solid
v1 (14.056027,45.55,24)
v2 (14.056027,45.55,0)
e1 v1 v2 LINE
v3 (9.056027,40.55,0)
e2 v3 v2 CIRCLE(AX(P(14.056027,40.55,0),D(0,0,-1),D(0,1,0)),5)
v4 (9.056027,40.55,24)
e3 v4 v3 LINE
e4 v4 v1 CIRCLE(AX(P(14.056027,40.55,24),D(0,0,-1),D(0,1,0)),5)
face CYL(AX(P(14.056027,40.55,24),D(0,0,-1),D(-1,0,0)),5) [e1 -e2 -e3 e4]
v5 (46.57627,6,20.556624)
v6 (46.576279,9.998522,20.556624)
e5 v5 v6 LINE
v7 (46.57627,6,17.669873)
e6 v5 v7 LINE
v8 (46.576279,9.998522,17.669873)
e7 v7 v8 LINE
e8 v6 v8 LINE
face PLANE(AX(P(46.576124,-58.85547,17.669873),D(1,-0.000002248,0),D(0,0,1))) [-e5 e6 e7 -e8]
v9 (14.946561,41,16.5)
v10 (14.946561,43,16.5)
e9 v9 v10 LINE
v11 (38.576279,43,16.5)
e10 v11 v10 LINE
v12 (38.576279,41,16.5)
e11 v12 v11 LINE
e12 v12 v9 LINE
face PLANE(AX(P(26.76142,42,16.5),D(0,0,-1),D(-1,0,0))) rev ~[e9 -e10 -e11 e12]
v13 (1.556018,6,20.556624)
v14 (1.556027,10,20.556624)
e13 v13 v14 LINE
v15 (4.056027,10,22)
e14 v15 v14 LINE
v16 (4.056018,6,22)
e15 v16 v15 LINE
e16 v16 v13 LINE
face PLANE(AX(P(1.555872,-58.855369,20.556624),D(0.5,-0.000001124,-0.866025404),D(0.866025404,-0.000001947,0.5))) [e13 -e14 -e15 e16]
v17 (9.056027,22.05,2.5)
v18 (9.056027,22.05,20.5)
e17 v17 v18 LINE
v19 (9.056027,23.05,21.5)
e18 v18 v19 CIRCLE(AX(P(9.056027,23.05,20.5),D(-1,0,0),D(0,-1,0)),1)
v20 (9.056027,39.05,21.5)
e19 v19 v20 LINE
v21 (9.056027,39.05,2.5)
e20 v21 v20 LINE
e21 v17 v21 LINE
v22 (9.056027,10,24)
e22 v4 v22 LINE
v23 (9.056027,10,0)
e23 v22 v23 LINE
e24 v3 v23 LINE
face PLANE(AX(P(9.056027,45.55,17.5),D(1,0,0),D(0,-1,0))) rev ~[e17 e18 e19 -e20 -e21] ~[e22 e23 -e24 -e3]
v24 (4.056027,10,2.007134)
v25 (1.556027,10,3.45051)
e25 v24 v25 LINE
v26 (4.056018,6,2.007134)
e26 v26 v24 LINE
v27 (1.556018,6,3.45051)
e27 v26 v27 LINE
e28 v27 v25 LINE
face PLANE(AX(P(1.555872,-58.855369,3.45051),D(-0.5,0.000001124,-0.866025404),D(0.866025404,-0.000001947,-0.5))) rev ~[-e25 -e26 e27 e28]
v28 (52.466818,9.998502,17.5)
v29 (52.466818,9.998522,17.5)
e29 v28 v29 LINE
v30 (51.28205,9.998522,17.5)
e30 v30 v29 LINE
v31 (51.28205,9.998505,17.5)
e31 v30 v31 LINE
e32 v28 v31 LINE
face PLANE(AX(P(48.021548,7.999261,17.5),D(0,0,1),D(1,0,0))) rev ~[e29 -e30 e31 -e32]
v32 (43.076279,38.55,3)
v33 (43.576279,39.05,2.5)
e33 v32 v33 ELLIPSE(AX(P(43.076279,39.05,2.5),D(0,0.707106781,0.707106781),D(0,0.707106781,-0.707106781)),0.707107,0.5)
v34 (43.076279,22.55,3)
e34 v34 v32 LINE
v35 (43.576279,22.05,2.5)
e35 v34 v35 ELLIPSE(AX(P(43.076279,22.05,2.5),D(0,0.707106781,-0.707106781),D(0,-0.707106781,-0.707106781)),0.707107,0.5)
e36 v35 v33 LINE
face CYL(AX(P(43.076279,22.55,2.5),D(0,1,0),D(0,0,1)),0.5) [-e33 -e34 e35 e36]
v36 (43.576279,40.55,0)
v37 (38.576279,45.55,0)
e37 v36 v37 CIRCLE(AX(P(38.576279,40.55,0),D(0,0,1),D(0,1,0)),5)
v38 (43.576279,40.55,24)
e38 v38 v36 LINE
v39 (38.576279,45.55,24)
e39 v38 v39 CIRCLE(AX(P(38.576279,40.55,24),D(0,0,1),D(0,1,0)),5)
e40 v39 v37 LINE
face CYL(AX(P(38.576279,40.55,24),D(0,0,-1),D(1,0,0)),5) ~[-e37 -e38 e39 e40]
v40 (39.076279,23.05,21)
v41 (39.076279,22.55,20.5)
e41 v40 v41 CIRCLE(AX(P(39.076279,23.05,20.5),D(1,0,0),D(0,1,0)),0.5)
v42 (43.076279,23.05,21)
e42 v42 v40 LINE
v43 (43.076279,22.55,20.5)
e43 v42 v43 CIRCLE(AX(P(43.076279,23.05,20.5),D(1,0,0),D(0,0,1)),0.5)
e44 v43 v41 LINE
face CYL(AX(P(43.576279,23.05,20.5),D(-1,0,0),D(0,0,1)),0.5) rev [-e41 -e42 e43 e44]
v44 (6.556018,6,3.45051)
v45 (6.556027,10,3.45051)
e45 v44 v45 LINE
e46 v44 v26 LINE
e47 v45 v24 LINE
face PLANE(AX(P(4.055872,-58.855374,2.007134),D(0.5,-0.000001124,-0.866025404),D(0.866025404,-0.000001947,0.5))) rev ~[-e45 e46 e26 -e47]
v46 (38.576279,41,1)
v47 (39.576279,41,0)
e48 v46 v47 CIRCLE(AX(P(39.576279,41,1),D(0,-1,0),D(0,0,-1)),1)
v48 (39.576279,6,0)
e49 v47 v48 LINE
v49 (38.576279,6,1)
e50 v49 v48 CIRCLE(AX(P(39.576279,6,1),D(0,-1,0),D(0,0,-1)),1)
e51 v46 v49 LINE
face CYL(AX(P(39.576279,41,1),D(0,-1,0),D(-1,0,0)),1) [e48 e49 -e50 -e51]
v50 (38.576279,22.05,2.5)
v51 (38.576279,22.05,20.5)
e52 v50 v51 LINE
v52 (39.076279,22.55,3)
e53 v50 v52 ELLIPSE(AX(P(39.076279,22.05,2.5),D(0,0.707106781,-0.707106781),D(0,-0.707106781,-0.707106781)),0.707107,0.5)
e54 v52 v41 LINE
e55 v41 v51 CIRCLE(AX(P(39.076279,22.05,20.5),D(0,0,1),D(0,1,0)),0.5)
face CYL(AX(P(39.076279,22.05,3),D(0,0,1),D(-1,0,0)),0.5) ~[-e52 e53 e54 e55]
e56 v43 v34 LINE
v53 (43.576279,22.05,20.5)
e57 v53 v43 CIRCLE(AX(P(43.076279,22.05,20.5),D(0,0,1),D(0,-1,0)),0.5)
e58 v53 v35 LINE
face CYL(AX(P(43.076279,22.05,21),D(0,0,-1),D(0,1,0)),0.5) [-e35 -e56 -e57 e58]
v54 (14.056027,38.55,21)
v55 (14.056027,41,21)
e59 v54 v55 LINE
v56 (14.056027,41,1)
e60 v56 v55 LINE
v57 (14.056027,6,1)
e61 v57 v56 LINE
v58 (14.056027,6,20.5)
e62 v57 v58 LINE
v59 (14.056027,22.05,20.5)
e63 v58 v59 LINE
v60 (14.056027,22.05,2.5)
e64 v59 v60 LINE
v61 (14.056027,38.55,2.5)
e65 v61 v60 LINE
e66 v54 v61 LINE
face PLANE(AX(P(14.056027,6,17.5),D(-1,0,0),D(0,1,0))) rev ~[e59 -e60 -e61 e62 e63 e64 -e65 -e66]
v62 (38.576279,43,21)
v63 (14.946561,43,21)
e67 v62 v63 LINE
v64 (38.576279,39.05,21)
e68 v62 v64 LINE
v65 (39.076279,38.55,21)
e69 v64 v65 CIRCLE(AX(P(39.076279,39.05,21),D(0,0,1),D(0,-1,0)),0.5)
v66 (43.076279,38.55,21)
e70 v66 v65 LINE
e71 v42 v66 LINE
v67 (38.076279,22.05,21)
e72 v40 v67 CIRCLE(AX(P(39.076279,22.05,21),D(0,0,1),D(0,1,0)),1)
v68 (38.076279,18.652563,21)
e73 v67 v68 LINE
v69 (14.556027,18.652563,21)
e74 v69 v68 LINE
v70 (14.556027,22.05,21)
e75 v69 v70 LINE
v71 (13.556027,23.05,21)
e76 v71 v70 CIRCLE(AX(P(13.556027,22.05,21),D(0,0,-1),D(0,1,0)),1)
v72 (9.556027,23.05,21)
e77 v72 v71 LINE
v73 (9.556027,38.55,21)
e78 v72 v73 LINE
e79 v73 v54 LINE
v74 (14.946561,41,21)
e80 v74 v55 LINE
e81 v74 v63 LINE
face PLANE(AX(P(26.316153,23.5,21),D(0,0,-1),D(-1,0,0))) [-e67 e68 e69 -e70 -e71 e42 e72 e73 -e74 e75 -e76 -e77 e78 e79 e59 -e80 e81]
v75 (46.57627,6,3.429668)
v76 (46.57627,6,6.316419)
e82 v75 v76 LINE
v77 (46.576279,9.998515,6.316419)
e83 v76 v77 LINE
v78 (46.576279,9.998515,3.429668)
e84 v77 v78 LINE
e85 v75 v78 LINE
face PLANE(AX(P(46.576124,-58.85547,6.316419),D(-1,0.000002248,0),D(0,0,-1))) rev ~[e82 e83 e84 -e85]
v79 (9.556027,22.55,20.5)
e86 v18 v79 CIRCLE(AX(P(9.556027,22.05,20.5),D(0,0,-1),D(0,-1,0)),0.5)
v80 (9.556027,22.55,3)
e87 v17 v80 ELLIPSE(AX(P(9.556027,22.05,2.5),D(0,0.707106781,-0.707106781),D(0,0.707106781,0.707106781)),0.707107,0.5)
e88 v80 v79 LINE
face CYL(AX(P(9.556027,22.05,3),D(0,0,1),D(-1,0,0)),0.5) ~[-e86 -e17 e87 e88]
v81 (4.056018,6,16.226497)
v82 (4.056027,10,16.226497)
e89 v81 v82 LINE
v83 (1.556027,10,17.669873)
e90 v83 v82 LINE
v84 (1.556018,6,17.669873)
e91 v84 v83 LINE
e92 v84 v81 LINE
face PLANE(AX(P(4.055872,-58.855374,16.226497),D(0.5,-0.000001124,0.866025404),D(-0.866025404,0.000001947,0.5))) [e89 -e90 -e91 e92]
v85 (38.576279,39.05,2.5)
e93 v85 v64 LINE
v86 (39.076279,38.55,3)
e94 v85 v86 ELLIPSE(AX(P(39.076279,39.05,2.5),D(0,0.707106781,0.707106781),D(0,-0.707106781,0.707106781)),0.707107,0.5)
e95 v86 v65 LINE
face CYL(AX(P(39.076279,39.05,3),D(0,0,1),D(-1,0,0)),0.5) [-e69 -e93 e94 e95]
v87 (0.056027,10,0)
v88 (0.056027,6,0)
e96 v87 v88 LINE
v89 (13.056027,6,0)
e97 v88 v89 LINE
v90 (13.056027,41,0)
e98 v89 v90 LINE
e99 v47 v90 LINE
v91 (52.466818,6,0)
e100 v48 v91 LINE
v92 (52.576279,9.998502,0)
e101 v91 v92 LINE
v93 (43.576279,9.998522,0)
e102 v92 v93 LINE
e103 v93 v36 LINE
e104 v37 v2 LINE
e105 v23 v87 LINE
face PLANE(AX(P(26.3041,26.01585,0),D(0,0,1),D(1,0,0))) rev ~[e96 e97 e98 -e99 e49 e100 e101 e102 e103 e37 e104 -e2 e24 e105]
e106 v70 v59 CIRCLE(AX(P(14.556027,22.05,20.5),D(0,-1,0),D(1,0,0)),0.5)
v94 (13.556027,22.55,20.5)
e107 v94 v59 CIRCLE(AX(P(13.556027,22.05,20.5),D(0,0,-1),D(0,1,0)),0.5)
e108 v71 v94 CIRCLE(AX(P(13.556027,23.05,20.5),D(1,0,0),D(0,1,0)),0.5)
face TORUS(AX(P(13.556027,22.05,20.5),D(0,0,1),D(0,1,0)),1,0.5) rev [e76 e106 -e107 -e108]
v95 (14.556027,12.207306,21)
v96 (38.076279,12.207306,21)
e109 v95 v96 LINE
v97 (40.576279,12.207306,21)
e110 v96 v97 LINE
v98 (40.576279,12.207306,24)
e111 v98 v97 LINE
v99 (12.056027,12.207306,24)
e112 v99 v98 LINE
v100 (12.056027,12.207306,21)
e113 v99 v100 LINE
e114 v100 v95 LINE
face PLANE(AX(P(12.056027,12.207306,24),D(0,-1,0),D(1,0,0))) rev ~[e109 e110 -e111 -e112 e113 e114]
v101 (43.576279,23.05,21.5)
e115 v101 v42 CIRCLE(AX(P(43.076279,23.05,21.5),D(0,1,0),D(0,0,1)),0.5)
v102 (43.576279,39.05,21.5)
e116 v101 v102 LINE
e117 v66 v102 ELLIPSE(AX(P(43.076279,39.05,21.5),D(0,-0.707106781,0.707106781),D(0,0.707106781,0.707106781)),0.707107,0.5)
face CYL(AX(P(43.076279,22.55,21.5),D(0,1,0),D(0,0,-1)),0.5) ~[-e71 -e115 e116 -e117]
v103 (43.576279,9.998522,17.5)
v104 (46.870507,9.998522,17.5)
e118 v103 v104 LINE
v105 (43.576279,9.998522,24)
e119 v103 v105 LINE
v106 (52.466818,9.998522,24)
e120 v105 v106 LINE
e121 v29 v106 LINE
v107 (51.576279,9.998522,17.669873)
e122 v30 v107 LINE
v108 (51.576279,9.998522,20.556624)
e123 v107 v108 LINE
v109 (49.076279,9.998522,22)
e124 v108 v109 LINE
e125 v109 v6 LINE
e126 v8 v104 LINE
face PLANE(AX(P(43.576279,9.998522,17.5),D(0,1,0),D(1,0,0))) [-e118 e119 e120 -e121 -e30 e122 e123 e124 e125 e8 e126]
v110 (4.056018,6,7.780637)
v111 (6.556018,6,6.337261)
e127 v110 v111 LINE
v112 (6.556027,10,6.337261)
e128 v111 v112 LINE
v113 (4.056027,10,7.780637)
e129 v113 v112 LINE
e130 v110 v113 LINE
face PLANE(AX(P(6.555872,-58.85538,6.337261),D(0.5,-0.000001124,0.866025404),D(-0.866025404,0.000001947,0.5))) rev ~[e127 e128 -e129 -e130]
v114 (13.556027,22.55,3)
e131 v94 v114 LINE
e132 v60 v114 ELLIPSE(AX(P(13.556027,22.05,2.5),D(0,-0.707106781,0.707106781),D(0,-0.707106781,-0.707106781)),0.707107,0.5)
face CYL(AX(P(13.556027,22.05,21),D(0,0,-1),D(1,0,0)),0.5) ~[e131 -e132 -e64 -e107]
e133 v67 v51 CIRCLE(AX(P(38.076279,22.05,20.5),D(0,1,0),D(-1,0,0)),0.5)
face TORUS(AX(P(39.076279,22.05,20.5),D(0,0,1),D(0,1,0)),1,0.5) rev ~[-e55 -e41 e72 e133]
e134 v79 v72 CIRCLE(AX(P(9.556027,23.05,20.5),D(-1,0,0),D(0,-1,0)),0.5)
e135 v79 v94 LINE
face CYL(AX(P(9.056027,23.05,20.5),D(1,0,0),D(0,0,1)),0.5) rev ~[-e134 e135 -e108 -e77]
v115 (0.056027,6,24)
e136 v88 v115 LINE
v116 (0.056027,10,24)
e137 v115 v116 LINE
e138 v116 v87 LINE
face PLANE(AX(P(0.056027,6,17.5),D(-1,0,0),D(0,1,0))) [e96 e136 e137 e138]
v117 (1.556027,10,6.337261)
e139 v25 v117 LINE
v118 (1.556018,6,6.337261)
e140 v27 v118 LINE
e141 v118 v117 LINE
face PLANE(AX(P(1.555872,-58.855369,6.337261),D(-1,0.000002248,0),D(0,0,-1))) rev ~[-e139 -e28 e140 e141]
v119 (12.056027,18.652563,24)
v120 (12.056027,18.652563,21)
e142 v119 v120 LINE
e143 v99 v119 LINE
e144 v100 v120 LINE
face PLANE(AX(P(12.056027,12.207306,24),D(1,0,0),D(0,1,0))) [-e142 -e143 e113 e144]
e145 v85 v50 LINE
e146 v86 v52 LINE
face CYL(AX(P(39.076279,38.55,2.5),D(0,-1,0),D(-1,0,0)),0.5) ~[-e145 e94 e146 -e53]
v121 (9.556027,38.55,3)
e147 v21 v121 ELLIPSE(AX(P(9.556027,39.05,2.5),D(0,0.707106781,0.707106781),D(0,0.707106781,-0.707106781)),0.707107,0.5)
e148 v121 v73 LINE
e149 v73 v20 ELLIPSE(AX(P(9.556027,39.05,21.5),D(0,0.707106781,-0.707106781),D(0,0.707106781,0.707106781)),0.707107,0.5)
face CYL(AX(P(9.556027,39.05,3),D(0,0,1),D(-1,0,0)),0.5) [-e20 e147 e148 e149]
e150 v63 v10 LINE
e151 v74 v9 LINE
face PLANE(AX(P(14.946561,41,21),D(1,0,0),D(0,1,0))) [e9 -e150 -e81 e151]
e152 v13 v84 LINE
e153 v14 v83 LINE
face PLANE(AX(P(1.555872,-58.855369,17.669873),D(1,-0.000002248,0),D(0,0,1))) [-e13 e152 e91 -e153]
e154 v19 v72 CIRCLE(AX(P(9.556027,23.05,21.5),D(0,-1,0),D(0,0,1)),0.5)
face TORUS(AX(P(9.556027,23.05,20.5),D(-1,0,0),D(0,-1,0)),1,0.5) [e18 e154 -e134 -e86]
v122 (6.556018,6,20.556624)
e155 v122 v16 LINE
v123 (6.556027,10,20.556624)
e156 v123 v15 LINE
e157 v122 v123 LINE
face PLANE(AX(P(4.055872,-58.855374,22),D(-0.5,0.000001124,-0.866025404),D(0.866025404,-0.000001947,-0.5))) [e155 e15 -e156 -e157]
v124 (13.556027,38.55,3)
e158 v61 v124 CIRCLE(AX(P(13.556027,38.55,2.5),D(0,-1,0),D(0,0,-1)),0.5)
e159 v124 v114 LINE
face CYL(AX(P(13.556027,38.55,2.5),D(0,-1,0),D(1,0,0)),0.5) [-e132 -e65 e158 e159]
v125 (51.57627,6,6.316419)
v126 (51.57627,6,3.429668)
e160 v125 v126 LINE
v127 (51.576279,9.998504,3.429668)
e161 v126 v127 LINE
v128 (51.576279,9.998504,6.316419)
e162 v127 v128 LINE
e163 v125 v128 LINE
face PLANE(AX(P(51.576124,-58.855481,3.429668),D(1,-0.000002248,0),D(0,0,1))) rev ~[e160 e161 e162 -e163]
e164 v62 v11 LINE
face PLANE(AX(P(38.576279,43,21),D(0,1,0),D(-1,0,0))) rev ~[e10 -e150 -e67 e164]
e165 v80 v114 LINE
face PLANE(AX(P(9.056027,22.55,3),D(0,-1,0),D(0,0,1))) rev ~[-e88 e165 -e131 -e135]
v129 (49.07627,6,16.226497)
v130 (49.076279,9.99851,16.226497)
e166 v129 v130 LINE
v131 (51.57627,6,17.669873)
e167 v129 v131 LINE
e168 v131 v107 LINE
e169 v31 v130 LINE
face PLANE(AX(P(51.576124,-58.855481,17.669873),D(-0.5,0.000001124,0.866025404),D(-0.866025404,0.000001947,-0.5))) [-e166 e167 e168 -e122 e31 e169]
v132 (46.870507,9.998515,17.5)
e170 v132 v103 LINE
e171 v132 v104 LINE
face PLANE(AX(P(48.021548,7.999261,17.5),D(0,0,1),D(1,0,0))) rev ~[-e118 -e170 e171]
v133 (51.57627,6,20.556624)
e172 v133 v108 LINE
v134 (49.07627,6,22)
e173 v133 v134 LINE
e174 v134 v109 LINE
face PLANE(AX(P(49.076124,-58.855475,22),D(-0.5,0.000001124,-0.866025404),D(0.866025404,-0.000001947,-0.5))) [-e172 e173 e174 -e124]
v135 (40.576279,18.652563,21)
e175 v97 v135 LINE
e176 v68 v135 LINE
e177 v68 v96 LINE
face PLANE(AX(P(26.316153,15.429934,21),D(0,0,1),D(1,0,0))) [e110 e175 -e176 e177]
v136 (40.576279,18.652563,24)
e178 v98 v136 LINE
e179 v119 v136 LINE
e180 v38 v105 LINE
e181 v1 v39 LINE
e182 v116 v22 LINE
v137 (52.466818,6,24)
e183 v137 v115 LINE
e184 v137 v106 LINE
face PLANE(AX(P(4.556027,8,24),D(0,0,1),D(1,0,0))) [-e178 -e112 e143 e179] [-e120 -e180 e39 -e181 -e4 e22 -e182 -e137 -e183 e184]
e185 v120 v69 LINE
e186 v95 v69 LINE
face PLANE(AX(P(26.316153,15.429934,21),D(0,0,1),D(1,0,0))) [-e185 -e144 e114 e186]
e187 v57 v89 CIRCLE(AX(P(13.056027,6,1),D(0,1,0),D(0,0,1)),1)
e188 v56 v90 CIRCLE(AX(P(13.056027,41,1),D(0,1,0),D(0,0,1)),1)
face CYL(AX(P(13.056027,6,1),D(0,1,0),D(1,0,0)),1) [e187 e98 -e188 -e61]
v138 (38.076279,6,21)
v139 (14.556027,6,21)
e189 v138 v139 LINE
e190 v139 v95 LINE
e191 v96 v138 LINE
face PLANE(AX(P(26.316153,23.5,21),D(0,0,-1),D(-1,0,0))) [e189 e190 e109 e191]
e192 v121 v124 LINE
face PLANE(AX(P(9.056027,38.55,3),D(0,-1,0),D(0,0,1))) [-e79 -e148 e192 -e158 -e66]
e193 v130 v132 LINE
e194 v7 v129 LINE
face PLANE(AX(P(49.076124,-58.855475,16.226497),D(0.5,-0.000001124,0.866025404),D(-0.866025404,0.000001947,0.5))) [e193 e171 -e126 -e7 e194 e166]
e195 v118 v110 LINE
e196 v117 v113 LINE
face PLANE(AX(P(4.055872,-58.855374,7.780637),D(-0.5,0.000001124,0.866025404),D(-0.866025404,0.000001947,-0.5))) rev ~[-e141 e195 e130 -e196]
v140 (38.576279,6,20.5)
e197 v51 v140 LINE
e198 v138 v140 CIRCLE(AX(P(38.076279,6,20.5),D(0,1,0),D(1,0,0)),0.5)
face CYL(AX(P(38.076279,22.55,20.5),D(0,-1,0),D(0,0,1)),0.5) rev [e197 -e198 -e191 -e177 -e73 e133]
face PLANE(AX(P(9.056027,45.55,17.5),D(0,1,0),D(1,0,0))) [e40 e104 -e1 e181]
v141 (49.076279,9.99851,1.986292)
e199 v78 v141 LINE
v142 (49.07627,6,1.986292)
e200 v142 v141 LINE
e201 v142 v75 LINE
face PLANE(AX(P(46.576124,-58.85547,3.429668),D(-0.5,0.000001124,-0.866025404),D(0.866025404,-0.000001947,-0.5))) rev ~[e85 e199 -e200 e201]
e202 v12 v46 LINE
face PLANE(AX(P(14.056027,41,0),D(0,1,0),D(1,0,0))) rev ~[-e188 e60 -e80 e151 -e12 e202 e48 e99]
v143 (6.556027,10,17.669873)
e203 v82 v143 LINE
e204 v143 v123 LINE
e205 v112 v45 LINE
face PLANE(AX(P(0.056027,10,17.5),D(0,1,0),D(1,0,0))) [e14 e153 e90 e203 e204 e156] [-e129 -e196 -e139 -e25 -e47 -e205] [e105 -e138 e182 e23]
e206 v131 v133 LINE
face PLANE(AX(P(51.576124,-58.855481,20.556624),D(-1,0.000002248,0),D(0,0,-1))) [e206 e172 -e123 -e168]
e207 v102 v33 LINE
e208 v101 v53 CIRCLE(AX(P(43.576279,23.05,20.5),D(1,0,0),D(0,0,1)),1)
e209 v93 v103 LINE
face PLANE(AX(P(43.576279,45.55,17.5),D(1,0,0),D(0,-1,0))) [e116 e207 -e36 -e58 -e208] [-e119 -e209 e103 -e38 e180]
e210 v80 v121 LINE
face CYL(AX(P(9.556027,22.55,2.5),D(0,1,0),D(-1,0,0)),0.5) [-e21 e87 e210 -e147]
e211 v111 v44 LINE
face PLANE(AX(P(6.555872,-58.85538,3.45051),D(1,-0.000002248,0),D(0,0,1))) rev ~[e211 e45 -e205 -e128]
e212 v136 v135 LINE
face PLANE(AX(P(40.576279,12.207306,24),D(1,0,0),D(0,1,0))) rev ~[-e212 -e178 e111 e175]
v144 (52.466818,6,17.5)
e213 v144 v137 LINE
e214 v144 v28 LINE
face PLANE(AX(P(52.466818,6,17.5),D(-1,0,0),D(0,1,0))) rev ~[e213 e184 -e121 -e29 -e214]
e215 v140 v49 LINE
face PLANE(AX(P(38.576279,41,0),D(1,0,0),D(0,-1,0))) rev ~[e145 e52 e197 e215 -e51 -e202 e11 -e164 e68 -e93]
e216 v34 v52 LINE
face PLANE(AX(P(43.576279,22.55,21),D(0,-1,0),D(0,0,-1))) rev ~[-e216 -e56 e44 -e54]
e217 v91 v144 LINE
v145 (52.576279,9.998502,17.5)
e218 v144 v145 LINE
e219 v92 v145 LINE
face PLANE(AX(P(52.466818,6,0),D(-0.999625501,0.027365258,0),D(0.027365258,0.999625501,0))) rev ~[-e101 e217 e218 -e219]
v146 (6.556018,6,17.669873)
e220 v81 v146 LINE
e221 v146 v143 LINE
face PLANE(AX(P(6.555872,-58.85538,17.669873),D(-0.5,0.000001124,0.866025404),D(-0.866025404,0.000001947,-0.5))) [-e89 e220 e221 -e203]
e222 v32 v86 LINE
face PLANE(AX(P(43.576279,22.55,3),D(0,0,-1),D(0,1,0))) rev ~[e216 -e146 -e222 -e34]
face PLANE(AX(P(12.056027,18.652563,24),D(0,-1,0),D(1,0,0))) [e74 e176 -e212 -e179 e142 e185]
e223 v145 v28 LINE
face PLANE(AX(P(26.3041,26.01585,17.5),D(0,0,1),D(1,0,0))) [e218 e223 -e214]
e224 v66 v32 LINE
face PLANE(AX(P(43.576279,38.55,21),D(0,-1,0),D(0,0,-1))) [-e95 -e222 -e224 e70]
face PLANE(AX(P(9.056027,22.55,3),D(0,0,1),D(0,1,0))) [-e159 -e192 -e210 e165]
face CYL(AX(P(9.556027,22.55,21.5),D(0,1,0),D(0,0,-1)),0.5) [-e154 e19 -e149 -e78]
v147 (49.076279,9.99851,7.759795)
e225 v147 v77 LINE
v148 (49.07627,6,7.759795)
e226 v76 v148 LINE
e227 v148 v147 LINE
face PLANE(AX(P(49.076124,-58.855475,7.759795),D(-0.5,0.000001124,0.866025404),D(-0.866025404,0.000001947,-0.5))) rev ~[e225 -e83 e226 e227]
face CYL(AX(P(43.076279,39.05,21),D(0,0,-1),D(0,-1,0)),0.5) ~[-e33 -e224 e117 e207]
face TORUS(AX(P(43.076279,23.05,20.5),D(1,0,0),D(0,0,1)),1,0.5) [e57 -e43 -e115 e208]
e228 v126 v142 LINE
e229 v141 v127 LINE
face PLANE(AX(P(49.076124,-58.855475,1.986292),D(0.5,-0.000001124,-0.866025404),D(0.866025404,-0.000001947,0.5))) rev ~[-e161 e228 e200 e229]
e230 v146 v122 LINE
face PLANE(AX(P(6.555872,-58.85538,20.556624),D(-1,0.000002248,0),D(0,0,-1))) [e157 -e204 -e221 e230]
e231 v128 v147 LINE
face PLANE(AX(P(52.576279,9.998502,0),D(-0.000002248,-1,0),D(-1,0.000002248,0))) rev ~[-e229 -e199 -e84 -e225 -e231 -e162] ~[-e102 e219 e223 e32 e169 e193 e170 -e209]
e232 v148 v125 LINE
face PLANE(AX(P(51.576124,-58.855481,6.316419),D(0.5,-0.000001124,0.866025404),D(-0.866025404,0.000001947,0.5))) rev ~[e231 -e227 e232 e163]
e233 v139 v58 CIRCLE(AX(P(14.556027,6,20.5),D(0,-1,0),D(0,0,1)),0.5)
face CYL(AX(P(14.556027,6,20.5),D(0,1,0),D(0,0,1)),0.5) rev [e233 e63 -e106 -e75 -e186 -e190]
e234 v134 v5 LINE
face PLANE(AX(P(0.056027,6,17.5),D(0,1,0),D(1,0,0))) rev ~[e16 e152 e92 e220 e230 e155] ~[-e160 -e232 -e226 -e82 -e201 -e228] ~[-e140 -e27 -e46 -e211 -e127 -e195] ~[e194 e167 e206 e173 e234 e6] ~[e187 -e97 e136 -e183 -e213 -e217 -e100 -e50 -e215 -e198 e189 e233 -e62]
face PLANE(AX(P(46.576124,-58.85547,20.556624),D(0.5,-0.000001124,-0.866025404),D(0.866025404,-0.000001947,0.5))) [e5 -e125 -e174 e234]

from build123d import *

# Parameters (mm, degrees)
BOSS_EXTRUDE1_DEPTH     = 17.5
BOSS_EXTRUDE2_DEPTH     = 6.5
SKETCH4_W               = 24.52025143
SKETCH4_H               = 35
CUT_EXTRUDE1_DEPTH      = 3.5
SKETCH5_W               = 23.62971737
SKETCH5_H               = 2
CUT_EXTRUDE2_DEPTH      = 4.5
FILLET1_R               = 5
SKETCH7_W               = 9
SKETCH7_H               = 4
SKETCH7_W_2             = 8.890538969
SKETCH7_H_2             = 3.998522236
BOSS_EXTRUDE3_DEPTH     = 6.5
FILLET2_R               = 1
CUT_EXTRUDE4_REACH      = 69.415
SKETCH8_W               = 18
SKETCH8_H               = 16
FILLET3_R               = 0.5
CUT_EXTRUDE5_REACH      = 69.415
SKETCH9_W               = 18
SKETCH9_H               = 16
FILLET4_R               = 0.5
SKETCH10_W              = 28.52025143
SKETCH10_H              = 6.445257338
CUT_EXTRUDE6_DEPTH      = 3
CUT_EXTRUDE7_DEPTH      = 10
CUT_EXTRUDE7_DEPTH_BACK = 68.853985243


with BuildPart() as part:
    # Sketch1 → Boss-Extrude1 (new body)
    with BuildSketch(Plane.XY):
        Polygon((0.056027157, 6.000000005), (14.056027157, 6.000000005), (14.056027157, 41.000000005), (38.576278587, 41.000000005), (38.576278587, 6.000000005), (52.466817556, 6.000000005), (52.576278587, 9.99850201), (43.576278587, 9.998522241), (43.576278587, 39.558678923), (43.576278587, 45.550000005), (41.466812647, 45.550000005), (38.316152872, 45.550000005), (14.316152872, 45.550000005), (9.056027157, 45.550000005), (9.056027157, 39.558678923), (9.056027157, 10.000000005), (0.056027157, 10.000000005), align=None)
    extrude(amount=BOSS_EXTRUDE1_DEPTH)

    # Sketch2 → Boss-Extrude2 (add)
    with BuildSketch(Plane.XY.offset(17.5)):
        Polygon((9.056027157, 10.000000005), (9.056027157, 45.550000005), (43.576278587, 45.550000005), (43.576278587, 6.000000005), (9.056027157, 6.000000005), align=None)
    extrude(amount=BOSS_EXTRUDE2_DEPTH)

    # Sketch4 → Cut-Extrude1 (cut)
    with BuildSketch(Plane(origin=(0, 0, 17.5), x_dir=(-1, 0, 0), z_dir=(0, 0, -1))):
        with Locations((-26.316152872, 23.500000005)):
            Rectangle(SKETCH4_W, SKETCH4_H)
    extrude(amount=-CUT_EXTRUDE1_DEPTH, mode=Mode.SUBTRACT)

    # Sketch5 → Cut-Extrude2 (cut)
    with BuildSketch(Plane(origin=(0, 0, 21), x_dir=(-1, 0, 0), z_dir=(0, 0, -1))):
        with Locations((-26.761419902, 42.000000005)):
            Rectangle(SKETCH5_W, SKETCH5_H)
    extrude(amount=CUT_EXTRUDE2_DEPTH, mode=Mode.SUBTRACT)

    # Fillet1
    fillet1_edges = [part.edges().sort_by_distance(p)[0] for p in [
        (9.056027157, 45.550000005, 12),
        (43.576278587, 45.550000005, 12),
    ]]
    fillet(fillet1_edges, radius=FILLET1_R)

    # Sketch7 → Boss-Extrude3 (add, through all)
    with BuildSketch(Plane.XY.offset(17.5)):
        with Locations((4.556027157, 8.000000005)):
            Rectangle(SKETCH7_W, SKETCH7_H)
        with Locations((48.021548072, 7.999261123)):
            Rectangle(SKETCH7_W_2, SKETCH7_H_2)
    extrude(amount=BOSS_EXTRUDE3_DEPTH)

    # Fillet2
    fillet2_edges = [part.edges().sort_by_distance(p)[0] for p in [
        (38.576278587, 23.500000005, 0),
        (14.056027157, 23.500000005, 0),
    ]]
    fillet(fillet2_edges, radius=FILLET2_R)

    # Sketch8 → Cut-Extrude4 (cut, up to next)
    with BuildSketch(Plane.ZY.offset(-9.056027157), mode=Mode.PRIVATE) as cut_extrude4_sk1:
        with Locations((12, 30.550000005)):
            Rectangle(SKETCH8_W, SKETCH8_H)
    cut_extrude4_tool1 = extrude(cut_extrude4_sk1.sketch, amount=-CUT_EXTRUDE4_REACH, mode=Mode.PRIVATE) & part.part
    add(cut_extrude4_tool1.solids().sort_by_distance((9.056027, 30.55, 12))[0], mode=Mode.SUBTRACT)

    # Fillet3
    fillet3_edges = [part.edges().sort_by_distance(p)[0] for p in [
        (14.056027157, 30.550000005, 3),
        (14.056027157, 22.550000005, 12),
        (11.556027157, 22.550000005, 21),
        (9.056027157, 30.550000005, 3),
        (9.056027157, 22.550000005, 12),
        (9.056027157, 30.550000005, 21),
        (9.056027157, 38.550000005, 12),
        (14.056027157, 14.275000005, 21),
    ]]
    fillet(fillet3_edges, radius=FILLET3_R)

    # Sketch9 → Cut-Extrude5 (cut, up to next)
    with BuildSketch(Plane(origin=(43.576278587, 0, 0), x_dir=(0, 0, -1), z_dir=(1, 0, 0)), mode=Mode.PRIVATE) as cut_extrude5_sk1:
        with Locations((-12, 30.550000005)):
            Rectangle(SKETCH9_W, SKETCH9_H)
    cut_extrude5_tool1 = extrude(cut_extrude5_sk1.sketch, amount=-CUT_EXTRUDE5_REACH, mode=Mode.PRIVATE) & part.part
    add(cut_extrude5_tool1.solids().sort_by_distance((43.576279, 30.55, 12))[0], mode=Mode.SUBTRACT)

    # Fillet4
    fillet4_edges = [part.edges().sort_by_distance(p)[0] for p in [
        (38.576278587, 14.275000005, 21),
        (38.576278587, 38.550000005, 12),
        (38.576278587, 30.550000005, 3),
        (38.576278587, 22.550000005, 12),
        (41.076278587, 22.550000005, 21),
        (43.576278587, 30.550000005, 21),
        (43.576278587, 22.550000005, 12),
        (43.576278587, 30.550000005, 3),
        (43.576278587, 38.550000005, 12),
    ]]
    fillet(fillet4_edges, radius=FILLET4_R)

    # Sketch10 → Cut-Extrude6 (cut)
    with BuildSketch(Plane.XY.offset(24)):
        with Locations((26.316152872, 15.429934293)):
            Rectangle(SKETCH10_W, SKETCH10_H)
    extrude(amount=-CUT_EXTRUDE6_DEPTH, mode=Mode.SUBTRACT)

    # Sketch6 → Cut-Extrude7 (cut, two sides: drawn at the far end of the back side and taken through both)
    with BuildSketch(Plane(origin=(2.2475e-05, 9.998620193, 0), x_dir=(0.9999999999974737, -2.2478262975890884e-06, 0), z_dir=(2.2478262975890884e-06, 0.9999999999974737, 0)).offset(-CUT_EXTRUDE7_DEPTH_BACK)):
        Polygon((4.056004679, -22), (6.556004679, -20.556624327), (6.556004679, -17.669872981), (4.056004679, -16.226497308), (1.556004679, -17.669872981), (1.556004679, -20.556624327), align=None)
        Polygon((1.556004679, -3.450509855), (4.056004679, -2.007134182), (6.556004679, -3.450509855), (6.556004679, -6.337261201), (4.056004679, -7.780636874), (1.556004679, -6.337261201), align=None)
        Polygon((46.576256112, -3.429667879), (49.076256112, -1.986292206), (51.576256112, -3.429667879), (51.576256112, -6.316419225), (49.076256112, -7.759794898), (46.576256112, -6.316419225), align=None)
        Polygon((49.076256112, -22), (51.576256112, -20.556624327), (51.576256112, -17.669872981), (49.076256112, -16.226497308), (46.576256112, -17.669872981), (46.576256112, -20.556624327), align=None)
    extrude(amount=CUT_EXTRUDE7_DEPTH + CUT_EXTRUDE7_DEPTH_BACK, mode=Mode.SUBTRACT)


solid = part.part
